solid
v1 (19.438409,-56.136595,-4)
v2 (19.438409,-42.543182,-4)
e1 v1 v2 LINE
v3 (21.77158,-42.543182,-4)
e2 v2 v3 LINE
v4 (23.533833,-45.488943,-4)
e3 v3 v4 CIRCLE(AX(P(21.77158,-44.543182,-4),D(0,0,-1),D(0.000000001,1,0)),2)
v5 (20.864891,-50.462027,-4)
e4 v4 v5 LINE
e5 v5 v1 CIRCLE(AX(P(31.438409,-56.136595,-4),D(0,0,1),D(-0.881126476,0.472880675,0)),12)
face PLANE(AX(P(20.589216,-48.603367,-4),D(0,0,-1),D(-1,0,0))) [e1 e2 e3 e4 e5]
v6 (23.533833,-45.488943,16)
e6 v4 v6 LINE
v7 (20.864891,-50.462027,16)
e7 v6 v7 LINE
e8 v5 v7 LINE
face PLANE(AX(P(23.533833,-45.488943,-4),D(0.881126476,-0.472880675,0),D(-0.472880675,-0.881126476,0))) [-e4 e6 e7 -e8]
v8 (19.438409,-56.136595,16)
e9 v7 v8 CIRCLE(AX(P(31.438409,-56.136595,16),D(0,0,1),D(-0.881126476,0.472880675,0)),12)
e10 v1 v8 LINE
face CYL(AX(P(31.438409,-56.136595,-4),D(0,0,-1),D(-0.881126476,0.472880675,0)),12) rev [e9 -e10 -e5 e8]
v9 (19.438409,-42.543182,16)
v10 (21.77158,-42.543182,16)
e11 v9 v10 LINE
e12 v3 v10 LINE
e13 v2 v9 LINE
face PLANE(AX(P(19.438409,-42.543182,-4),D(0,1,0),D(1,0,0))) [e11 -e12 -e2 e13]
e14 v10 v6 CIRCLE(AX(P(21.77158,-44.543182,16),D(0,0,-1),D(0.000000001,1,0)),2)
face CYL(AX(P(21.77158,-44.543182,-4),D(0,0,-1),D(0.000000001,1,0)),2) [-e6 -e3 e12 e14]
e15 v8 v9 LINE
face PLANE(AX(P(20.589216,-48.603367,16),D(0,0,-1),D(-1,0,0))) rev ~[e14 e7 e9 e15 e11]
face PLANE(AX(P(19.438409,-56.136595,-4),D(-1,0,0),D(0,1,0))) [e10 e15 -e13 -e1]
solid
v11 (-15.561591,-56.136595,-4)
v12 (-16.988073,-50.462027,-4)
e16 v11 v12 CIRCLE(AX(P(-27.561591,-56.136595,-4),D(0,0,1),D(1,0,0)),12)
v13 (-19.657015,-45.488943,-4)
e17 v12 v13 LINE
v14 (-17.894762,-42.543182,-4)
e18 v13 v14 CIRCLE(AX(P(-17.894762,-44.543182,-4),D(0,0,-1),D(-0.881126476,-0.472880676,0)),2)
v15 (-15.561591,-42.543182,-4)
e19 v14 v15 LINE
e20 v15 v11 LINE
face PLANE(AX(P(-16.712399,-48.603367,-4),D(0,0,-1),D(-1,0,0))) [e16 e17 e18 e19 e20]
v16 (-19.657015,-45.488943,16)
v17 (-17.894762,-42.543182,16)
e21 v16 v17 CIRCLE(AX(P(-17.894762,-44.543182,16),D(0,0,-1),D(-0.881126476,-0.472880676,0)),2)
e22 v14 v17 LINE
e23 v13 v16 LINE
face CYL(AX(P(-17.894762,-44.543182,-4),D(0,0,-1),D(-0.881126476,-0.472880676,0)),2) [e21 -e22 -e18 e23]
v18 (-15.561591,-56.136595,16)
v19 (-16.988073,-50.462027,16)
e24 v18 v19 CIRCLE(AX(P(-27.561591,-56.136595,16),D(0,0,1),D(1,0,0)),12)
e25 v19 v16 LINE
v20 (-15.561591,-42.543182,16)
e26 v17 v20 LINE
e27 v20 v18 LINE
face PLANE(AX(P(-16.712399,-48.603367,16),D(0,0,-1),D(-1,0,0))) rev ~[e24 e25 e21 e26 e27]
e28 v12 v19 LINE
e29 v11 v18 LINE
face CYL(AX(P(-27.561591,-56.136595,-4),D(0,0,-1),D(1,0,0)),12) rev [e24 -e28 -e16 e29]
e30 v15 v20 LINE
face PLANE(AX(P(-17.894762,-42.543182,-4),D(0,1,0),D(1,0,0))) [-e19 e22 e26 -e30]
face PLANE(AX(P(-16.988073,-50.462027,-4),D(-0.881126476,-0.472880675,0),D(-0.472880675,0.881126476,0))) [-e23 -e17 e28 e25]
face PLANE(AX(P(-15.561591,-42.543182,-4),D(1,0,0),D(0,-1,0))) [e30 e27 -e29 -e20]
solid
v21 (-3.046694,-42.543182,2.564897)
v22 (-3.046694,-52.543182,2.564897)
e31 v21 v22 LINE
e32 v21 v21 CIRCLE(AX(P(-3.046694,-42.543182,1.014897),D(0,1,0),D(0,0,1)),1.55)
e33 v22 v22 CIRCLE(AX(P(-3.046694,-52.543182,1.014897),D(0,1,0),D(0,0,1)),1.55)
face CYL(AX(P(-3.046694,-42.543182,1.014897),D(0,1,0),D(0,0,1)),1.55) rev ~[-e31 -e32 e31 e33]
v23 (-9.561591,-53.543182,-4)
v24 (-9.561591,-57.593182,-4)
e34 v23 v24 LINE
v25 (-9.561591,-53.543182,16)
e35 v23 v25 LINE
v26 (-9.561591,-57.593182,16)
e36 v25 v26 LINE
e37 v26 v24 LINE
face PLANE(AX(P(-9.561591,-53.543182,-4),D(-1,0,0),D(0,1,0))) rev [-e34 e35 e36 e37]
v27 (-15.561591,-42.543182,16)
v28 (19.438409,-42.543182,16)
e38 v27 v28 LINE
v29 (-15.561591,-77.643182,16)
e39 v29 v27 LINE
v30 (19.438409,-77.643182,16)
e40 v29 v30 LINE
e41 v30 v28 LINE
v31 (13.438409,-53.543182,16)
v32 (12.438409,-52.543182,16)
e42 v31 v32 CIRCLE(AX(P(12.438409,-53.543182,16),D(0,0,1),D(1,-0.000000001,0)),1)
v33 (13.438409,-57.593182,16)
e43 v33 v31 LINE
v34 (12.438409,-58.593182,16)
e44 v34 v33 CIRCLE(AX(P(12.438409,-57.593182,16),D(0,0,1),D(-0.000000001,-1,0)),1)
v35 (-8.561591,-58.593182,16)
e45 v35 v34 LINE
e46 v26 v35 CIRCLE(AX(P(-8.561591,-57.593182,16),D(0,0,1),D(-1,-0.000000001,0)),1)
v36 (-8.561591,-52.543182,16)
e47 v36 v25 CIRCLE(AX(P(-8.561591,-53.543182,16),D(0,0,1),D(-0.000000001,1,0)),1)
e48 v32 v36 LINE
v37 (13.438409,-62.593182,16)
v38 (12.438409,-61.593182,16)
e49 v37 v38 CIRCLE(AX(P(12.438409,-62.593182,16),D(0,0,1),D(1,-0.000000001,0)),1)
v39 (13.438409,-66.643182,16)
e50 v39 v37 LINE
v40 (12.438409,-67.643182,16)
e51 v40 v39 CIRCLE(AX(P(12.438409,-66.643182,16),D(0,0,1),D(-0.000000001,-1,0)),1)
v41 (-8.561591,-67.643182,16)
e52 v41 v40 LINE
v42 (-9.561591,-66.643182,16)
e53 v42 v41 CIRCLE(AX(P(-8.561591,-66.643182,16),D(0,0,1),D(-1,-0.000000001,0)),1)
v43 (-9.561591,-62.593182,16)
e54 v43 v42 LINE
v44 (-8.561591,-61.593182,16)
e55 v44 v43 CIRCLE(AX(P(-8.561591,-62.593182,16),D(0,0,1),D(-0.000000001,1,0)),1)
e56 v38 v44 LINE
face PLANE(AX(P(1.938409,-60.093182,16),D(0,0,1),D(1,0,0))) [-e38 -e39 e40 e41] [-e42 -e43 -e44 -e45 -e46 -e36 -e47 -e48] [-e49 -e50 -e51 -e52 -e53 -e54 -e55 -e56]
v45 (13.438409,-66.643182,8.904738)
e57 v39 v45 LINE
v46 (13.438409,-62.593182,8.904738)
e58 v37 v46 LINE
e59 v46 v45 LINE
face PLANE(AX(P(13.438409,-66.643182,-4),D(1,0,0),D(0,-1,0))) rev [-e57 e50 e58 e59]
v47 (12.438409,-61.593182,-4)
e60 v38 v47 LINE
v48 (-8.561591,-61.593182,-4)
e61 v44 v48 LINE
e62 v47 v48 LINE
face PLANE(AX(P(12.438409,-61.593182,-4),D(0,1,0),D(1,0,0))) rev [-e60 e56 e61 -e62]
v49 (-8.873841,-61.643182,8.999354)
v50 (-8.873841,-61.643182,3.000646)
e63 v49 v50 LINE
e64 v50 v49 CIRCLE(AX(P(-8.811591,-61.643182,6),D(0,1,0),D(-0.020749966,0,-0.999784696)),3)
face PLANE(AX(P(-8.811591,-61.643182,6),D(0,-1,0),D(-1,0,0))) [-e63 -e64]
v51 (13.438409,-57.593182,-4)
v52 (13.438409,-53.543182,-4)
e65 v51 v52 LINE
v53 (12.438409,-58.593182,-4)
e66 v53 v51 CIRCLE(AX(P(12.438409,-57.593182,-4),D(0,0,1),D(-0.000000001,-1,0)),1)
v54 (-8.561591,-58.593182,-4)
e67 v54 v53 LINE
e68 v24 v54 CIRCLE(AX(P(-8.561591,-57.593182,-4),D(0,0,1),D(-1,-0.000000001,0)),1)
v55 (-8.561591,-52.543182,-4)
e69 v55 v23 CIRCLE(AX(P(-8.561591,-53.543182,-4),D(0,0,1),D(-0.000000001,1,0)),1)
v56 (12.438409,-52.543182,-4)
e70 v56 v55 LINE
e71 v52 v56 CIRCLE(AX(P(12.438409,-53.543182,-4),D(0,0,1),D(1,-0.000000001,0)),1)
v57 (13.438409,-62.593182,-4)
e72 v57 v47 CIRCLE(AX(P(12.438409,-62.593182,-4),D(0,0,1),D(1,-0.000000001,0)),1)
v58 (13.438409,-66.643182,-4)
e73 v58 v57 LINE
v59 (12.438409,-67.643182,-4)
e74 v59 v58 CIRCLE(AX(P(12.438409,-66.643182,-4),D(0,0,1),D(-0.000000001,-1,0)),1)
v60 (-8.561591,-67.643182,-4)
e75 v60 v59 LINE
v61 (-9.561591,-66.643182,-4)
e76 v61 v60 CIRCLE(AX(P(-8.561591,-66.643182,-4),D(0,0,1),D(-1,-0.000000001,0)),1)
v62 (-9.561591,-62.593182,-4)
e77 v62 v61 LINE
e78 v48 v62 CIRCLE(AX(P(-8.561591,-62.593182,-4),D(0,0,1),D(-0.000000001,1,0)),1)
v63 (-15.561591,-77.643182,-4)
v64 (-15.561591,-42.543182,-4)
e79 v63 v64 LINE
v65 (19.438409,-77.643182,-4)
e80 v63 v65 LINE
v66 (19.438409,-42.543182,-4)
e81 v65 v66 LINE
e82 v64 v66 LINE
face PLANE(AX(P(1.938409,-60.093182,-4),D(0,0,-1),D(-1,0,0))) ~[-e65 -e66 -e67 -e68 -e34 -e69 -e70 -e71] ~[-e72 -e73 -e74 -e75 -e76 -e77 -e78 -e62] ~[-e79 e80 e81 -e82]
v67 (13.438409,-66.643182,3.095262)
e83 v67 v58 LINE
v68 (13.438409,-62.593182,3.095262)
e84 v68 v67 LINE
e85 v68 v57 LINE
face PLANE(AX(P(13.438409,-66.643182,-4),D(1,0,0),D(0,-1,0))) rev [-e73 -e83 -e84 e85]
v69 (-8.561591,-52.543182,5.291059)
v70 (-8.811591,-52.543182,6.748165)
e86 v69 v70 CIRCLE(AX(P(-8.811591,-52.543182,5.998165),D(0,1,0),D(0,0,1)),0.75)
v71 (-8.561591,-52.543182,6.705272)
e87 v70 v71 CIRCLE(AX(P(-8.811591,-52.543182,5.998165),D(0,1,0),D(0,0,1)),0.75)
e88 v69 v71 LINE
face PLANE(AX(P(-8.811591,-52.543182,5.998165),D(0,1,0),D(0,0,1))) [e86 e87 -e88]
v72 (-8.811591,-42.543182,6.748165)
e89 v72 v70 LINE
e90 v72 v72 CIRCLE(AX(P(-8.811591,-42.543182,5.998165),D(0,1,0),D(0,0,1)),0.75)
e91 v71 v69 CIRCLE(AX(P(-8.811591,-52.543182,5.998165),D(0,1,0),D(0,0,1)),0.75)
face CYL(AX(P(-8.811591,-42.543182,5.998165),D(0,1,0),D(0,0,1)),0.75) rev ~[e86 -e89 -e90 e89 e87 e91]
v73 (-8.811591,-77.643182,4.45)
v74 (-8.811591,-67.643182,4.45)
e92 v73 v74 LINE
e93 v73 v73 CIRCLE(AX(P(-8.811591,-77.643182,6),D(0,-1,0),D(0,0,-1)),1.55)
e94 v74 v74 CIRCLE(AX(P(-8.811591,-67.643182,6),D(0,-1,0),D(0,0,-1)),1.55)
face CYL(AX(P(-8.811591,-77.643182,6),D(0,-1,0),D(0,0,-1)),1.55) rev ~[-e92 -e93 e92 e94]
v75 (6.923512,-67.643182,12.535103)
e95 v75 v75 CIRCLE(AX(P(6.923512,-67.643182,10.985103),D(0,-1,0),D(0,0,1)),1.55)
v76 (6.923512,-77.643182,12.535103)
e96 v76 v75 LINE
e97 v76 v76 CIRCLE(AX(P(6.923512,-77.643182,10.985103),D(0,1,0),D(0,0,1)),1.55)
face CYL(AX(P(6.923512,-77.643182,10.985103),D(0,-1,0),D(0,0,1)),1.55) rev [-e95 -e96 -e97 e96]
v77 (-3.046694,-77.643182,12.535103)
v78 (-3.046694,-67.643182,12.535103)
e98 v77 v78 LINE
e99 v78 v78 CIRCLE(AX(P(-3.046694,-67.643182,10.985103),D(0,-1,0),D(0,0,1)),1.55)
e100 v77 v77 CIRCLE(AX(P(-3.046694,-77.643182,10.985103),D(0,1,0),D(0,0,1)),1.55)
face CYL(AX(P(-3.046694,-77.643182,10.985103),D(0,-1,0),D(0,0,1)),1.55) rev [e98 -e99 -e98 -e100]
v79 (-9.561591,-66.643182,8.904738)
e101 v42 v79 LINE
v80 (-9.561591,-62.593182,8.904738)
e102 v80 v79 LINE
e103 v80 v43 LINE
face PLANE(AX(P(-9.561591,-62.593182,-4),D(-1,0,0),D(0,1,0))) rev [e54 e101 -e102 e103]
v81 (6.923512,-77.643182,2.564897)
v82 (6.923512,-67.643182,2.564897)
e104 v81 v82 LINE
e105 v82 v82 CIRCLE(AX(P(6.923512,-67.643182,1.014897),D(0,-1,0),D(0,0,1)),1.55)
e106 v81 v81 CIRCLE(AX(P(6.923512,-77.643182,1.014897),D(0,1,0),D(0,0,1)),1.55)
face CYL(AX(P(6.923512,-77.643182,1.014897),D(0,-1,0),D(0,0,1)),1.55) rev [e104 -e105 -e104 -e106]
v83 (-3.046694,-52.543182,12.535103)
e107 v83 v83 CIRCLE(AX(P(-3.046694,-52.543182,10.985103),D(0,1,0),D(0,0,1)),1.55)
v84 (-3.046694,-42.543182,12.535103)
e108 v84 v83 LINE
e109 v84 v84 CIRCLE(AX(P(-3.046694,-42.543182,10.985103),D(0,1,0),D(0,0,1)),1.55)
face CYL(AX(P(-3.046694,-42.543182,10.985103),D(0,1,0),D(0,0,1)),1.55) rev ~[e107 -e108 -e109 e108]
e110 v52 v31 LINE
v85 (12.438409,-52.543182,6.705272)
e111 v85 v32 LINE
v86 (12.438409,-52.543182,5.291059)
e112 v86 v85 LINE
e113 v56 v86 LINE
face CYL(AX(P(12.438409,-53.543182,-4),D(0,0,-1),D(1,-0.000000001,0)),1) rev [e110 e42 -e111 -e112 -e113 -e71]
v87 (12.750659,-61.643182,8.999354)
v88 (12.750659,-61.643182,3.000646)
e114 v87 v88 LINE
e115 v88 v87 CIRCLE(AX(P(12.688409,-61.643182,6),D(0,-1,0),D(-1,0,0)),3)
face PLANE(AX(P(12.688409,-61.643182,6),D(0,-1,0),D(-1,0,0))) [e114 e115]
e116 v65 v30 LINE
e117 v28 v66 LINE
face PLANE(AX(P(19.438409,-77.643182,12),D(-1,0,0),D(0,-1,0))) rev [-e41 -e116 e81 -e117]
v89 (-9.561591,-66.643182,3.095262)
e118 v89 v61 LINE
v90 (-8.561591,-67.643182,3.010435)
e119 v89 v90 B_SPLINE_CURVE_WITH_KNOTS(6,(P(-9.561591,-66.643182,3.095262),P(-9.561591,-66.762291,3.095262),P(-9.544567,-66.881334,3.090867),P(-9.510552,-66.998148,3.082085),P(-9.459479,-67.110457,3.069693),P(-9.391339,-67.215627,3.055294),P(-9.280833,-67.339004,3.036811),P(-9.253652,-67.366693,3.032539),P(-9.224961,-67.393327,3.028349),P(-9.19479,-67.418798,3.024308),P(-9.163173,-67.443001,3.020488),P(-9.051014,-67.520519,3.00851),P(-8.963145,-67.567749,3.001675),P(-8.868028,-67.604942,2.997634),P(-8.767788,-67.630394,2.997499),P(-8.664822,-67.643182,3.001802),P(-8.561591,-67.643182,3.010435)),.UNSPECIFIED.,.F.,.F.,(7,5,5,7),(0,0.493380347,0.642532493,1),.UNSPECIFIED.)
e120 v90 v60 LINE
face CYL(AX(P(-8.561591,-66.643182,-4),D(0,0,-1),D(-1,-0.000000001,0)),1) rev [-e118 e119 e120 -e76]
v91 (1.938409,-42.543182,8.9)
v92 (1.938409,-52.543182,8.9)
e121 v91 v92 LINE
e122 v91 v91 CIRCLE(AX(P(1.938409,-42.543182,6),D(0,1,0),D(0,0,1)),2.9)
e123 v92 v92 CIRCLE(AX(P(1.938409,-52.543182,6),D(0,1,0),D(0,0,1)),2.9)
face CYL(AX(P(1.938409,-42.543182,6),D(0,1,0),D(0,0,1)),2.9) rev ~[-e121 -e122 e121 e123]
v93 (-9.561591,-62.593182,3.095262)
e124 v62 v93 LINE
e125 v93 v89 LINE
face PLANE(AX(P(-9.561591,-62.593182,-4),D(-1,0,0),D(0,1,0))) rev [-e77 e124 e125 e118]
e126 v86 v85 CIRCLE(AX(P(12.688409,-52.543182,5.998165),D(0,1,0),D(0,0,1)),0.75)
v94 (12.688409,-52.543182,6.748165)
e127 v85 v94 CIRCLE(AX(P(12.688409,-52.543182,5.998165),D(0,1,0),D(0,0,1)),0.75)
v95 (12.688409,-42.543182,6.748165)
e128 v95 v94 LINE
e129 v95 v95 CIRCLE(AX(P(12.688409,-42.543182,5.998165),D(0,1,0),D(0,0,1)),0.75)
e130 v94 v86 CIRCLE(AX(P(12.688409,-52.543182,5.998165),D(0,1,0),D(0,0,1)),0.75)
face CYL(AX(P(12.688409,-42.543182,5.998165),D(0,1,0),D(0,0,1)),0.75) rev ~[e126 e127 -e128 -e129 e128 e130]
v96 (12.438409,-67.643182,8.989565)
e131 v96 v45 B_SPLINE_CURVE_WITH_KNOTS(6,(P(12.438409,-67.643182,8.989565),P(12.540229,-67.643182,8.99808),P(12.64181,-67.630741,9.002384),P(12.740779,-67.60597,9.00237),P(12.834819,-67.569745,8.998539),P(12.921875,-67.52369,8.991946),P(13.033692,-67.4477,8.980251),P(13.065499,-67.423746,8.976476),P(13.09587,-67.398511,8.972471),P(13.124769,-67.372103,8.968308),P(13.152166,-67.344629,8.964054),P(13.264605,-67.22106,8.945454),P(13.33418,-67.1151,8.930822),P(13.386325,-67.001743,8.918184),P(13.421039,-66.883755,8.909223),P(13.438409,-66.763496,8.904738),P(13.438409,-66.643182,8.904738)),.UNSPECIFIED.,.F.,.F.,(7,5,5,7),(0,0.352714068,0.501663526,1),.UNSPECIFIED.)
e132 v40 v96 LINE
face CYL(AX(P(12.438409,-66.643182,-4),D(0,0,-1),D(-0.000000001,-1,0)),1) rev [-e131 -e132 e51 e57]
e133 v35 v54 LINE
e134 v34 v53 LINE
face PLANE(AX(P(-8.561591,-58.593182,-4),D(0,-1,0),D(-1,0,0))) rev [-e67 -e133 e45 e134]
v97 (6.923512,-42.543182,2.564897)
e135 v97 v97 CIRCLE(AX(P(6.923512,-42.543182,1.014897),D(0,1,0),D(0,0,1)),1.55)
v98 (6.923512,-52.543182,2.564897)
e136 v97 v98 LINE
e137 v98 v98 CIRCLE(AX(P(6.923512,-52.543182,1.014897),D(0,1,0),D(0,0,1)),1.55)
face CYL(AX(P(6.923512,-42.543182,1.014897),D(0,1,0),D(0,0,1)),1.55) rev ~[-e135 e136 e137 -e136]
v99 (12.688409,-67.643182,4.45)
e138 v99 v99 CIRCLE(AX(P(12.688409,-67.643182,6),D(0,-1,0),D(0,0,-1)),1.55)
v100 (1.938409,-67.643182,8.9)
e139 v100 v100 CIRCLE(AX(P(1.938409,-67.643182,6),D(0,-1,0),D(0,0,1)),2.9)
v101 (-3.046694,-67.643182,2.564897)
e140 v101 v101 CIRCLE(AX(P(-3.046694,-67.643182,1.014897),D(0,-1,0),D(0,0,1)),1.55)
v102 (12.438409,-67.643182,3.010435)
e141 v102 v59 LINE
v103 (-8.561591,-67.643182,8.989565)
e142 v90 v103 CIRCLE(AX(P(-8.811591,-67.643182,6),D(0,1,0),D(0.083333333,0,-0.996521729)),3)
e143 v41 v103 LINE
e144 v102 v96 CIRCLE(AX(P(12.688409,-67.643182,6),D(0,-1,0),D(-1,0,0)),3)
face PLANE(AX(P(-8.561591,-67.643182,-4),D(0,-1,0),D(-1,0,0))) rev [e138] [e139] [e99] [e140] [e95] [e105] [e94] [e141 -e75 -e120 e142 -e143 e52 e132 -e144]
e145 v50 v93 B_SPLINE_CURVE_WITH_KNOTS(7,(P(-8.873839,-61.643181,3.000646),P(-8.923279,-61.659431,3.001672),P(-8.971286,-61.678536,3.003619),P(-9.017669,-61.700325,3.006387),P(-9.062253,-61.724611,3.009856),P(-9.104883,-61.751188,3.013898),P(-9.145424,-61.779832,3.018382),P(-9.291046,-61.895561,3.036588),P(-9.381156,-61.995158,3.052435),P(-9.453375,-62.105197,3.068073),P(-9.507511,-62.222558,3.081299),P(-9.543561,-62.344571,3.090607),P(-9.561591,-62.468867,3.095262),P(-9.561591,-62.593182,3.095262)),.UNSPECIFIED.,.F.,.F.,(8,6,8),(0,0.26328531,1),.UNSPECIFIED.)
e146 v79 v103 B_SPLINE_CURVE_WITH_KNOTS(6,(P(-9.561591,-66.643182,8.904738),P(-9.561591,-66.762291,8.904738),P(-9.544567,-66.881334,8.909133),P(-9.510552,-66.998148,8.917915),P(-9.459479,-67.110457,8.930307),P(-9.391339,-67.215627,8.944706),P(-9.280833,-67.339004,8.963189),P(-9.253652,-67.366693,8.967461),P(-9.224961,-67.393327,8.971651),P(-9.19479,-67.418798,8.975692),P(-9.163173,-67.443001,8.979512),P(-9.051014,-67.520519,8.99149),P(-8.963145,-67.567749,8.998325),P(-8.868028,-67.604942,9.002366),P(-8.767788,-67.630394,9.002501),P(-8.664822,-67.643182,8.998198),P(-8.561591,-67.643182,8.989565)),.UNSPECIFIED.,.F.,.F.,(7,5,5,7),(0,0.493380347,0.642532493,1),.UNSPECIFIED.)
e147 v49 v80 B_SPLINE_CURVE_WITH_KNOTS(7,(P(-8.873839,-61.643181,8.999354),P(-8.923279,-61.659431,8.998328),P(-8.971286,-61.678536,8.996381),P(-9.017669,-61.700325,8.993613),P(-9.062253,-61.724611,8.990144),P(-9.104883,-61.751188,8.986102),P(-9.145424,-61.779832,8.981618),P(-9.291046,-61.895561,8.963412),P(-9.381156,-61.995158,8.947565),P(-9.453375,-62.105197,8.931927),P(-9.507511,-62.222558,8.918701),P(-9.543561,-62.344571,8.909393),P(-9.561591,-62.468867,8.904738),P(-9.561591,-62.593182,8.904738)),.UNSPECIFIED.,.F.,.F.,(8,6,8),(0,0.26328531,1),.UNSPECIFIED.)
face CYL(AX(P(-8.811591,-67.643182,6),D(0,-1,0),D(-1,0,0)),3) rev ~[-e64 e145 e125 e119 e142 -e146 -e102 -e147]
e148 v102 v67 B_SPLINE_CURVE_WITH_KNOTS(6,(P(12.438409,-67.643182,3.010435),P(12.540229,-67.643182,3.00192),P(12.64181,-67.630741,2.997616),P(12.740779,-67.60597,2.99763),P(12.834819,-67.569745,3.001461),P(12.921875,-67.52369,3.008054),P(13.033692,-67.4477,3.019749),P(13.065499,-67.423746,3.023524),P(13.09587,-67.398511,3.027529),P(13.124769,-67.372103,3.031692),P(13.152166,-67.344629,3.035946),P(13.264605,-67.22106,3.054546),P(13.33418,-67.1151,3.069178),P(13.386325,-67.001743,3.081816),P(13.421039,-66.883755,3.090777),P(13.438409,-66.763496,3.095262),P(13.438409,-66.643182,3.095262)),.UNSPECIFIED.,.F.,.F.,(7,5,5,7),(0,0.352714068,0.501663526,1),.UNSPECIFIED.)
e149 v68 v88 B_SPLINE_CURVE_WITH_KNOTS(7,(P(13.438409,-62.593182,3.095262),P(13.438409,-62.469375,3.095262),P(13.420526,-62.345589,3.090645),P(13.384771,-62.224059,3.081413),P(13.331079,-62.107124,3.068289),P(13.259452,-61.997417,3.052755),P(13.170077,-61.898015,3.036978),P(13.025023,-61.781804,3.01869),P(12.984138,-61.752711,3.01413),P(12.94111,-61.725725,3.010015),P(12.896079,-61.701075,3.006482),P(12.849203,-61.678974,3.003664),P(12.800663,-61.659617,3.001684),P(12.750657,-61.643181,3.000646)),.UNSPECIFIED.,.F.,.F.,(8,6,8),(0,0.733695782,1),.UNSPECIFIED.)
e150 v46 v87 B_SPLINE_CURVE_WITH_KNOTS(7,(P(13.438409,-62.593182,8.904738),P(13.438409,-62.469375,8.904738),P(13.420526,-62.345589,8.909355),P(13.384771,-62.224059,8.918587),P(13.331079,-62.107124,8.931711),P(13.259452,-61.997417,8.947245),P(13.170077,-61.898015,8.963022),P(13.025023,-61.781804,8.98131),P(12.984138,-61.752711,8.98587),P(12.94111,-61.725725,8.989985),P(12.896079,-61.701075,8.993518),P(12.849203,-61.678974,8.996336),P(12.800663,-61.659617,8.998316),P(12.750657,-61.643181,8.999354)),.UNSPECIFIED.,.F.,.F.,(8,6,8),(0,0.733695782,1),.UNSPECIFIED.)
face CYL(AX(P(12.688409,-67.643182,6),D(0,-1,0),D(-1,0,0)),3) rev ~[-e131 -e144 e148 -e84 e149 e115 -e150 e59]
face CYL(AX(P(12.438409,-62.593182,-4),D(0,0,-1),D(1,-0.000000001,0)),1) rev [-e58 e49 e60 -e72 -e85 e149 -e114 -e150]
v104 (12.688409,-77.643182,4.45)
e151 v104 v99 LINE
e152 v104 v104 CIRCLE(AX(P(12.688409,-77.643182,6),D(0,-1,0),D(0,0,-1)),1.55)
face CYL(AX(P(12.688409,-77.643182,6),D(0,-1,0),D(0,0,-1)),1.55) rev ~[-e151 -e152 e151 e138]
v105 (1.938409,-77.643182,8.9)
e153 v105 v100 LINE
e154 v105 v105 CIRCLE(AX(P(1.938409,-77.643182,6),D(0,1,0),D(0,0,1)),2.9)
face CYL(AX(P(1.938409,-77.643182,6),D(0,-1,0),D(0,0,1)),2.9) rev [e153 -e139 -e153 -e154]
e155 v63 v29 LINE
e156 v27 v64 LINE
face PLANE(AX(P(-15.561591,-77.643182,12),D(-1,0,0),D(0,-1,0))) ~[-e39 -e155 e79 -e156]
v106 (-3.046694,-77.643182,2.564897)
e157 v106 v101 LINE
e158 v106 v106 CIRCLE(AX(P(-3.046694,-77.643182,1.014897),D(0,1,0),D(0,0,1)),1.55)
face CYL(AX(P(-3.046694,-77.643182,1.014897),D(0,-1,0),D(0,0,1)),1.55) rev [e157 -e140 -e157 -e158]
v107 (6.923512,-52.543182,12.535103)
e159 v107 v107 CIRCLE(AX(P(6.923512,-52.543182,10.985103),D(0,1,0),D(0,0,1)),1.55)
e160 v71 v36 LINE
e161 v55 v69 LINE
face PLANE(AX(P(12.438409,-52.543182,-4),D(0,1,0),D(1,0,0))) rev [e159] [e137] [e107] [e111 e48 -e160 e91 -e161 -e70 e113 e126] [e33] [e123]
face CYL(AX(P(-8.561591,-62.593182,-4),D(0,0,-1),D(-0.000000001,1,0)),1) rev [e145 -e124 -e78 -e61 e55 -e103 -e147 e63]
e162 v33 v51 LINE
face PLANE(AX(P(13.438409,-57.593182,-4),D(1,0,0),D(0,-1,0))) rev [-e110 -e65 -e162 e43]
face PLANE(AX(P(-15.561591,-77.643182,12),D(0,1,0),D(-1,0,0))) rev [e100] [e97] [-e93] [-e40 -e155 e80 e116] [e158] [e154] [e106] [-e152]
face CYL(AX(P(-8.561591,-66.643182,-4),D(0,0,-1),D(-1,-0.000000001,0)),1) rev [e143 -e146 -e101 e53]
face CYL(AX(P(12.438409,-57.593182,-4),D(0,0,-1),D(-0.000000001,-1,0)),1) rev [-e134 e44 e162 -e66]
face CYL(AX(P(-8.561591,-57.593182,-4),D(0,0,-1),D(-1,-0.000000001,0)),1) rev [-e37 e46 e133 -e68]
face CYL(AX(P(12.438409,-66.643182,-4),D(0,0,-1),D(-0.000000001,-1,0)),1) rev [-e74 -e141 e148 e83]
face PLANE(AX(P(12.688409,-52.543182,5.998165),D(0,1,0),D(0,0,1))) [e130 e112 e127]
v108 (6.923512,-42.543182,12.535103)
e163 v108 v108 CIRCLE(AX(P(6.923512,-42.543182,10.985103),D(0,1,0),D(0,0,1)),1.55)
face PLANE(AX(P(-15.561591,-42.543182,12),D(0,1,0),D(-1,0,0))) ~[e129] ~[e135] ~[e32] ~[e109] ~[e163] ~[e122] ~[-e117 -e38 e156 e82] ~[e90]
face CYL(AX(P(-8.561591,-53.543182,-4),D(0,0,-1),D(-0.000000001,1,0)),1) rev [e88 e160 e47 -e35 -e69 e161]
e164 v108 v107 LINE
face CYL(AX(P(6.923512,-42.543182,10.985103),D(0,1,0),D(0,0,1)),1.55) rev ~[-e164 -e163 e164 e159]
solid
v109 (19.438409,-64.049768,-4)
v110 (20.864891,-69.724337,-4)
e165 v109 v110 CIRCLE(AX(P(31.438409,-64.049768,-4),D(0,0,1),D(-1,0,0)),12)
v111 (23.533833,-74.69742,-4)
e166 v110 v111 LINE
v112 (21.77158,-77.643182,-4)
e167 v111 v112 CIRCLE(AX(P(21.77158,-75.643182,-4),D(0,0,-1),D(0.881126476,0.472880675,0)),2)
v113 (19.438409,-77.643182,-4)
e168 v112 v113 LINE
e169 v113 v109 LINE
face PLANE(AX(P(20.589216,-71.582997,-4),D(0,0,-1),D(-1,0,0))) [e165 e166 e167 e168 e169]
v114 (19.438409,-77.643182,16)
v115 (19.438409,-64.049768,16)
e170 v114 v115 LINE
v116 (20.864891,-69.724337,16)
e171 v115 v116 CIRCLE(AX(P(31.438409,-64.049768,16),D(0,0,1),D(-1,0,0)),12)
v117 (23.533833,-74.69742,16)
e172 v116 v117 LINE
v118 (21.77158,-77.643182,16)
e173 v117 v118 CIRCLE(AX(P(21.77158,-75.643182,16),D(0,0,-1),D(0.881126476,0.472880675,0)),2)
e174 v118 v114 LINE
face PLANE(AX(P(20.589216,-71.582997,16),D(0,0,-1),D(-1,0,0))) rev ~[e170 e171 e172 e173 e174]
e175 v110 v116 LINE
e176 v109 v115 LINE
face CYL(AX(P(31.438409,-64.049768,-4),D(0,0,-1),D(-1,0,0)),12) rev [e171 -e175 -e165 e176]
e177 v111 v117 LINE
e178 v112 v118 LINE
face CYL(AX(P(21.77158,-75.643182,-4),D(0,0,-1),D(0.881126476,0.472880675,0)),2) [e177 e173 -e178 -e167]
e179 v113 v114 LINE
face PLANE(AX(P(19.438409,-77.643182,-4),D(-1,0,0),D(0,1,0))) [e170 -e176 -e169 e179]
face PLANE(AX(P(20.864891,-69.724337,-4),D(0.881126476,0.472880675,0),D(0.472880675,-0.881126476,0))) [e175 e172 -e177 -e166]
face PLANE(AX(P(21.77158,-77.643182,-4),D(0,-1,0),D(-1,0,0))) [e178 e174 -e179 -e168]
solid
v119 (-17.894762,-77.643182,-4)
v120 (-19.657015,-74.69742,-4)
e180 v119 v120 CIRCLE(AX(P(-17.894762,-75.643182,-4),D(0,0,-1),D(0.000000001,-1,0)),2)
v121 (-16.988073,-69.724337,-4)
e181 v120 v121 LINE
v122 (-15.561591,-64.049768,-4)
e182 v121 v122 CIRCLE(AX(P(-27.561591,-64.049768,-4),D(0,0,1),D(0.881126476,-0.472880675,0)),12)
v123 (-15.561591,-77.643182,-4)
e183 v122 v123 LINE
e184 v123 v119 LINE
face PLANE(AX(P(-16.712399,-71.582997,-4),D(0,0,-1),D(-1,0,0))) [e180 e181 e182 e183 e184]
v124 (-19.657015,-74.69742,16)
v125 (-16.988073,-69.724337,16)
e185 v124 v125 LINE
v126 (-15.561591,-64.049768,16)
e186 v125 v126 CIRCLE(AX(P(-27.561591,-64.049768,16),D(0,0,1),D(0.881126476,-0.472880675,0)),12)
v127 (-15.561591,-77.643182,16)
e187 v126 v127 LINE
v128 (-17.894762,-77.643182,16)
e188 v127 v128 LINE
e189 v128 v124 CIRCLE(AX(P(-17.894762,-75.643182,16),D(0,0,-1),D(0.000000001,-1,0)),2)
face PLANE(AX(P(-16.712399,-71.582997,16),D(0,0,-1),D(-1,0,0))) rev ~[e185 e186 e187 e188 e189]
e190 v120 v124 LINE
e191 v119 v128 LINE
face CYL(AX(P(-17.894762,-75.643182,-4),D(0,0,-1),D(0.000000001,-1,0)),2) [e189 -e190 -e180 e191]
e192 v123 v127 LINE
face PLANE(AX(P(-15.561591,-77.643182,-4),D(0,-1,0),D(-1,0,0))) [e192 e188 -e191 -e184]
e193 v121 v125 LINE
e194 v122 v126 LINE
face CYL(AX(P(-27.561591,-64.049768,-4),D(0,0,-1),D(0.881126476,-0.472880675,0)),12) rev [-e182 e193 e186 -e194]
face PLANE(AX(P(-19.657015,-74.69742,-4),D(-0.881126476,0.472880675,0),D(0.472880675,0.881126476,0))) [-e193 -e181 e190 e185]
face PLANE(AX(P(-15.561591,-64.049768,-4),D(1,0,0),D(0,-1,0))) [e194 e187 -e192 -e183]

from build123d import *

# Parameters (mm, degrees)
SKETCH1_W             = 35
SKETCH1_H             = 35.1
BOSS_EXTRUDE1_DEPTH   = 16
CUT_EXTRUDE1_REACH    = 83.623
SKETCH6_W             = 37.150203726
SKETCH6_H             = 36.965069821
CUT_EXTRUDE2_DEPTH    = 81.661734542
SKETCH7_R             = 2.9
SKETCH7_R_2           = 1.55
CUT_EXTRUDE3_DEPTH    = 12
BOSS_EXTRUDE2_DEPTH   = 20
BOSS_EXTRUDE2_2_DEPTH = 20
BOSS_EXTRUDE2_3_DEPTH = 20
BOSS_EXTRUDE2_4_DEPTH = 20
SKETCH11_R            = 0.75
CUT_EXTRUDE4_DEPTH    = 10
SKETCH12_R            = 1.55
CUT_EXTRUDE5_DEPTH    = 10
SKETCH14_R            = 3
CUT_EXTRUDE7_DEPTH    = 6


with BuildPart() as part:
    # Sketch1 → Boss-Extrude1 (new body)
    with BuildSketch(Plane.XY):
        with Locations((1.938408795, -60.093181818)):
            Rectangle(SKETCH1_W, SKETCH1_H)
    extrude(amount=BOSS_EXTRUDE1_DEPTH)

    # Sketch2 → Cut-Extrude1 (cut, up to next)
    with BuildSketch(Plane.XY.offset(16), mode=Mode.PRIVATE) as cut_extrude1_sk1:
        with BuildLine():
            Line((-9.561591205, -53.543181818), (-9.561591205, -57.593181818))
            ThreePointArc((-9.561591205, -57.593181818), (-9.268697986, -58.300288599), (-8.561591205, -58.593181818))
            Line((-8.561591205, -58.593181818), (12.438408795, -58.593181818))
            ThreePointArc((12.438408795, -58.593181818), (13.145515577, -58.300288599), (13.438408795, -57.593181818))
            Line((13.438408795, -57.593181818), (13.438408795, -53.543181818))
            ThreePointArc((13.438408795, -53.543181818), (13.145515577, -52.836075037), (12.438408795, -52.543181818))
            Line((12.438408795, -52.543181818), (-8.561591205, -52.543181818))
            ThreePointArc((-8.561591205, -52.543181818), (-9.268697986, -52.836075037), (-9.561591205, -53.543181818))
        make_face()
    cut_extrude1_tool1 = extrude(cut_extrude1_sk1.sketch, amount=-CUT_EXTRUDE1_REACH, mode=Mode.PRIVATE) & part.part
    # Sketch2 → Cut-Extrude1 (cut, up to next)
    with BuildSketch(Plane.XY.offset(16), mode=Mode.PRIVATE) as cut_extrude1_sk2:
        with BuildLine():
            Line((-9.561591205, -62.593181818), (-9.561591205, -66.643181818))
            ThreePointArc((-9.561591205, -66.643181818), (-9.268697986, -67.350288599), (-8.561591205, -67.643181818))
            Line((-8.561591205, -67.643181818), (12.438408795, -67.643181818))
            ThreePointArc((12.438408795, -67.643181818), (13.145515577, -67.350288599), (13.438408795, -66.643181818))
            Line((13.438408795, -66.643181818), (13.438408795, -62.593181818))
            ThreePointArc((13.438408795, -62.593181818), (13.145515577, -61.886075037), (12.438408795, -61.593181818))
            Line((12.438408795, -61.593181818), (-8.561591205, -61.593181818))
            ThreePointArc((-8.561591205, -61.593181818), (-9.268697986, -61.886075037), (-9.561591205, -62.593181818))
        make_face()
    cut_extrude1_tool2 = extrude(cut_extrude1_sk2.sketch, amount=-CUT_EXTRUDE1_REACH, mode=Mode.PRIVATE) & part.part
    add(cut_extrude1_tool1.solids().sort_by_distance((1.938409, -55.568182, 16))[0], mode=Mode.SUBTRACT)
    add(cut_extrude1_tool2.solids().sort_by_distance((1.938409, -64.618182, 16))[0], mode=Mode.SUBTRACT)

    # Sketch6 → Cut-Extrude2 (cut, through all)
    with BuildSketch(Plane.XY.offset(6)):
        with Locations((2.061831399, -60.247460073)):
            Rectangle(SKETCH6_W, SKETCH6_H)
    extrude(amount=-CUT_EXTRUDE2_DEPTH, mode=Mode.SUBTRACT)

    # Mirror3: part across plane


with BuildPart() as part_1:
    add(part.part)
    add(part.part.mirror(Plane.XY.offset(6)))

    # Sketch7 → Cut-Extrude3 (cut)
    with BuildSketch(Plane(origin=(0, -42.543181818, 0), x_dir=(1, 0, 0), z_dir=(0, 1, 0))):
        with Locations(Location((1.938408795, -6, 0), (0, 0, 270))):
            Circle(SKETCH7_R)
        with Locations(Location((-3.046694012, -1.014897193, 0), (0, 0, 270))):
            Circle(SKETCH7_R_2)
        with Locations(Location((6.923511603, -1.014897193, 0), (0, 0, 270))):
            Circle(SKETCH7_R_2)
        with Locations(Location((6.923511603, -10.985102807, 0), (0, 0, 270))):
            Circle(SKETCH7_R_2)
        with Locations(Location((-3.046694012, -10.985102807, 0), (0, 0, 270))):
            Circle(SKETCH7_R_2)
    cut_extrude3 = extrude(amount=-CUT_EXTRUDE3_DEPTH, mode=Mode.SUBTRACT)

    # Mirror4: Cut-Extrude3 across plane
    add(cut_extrude3.mirror(Plane.ZX.offset(-60.093181818)), mode=Mode.SUBTRACT)

    # Sketch11 → Cut-Extrude4 (cut)
    with BuildSketch(Plane(origin=(0, -42.543181818, 0), x_dir=(1, 0, 0), z_dir=(0, 1, 0))):
        with Locations(Location((12.688408795, -5.998165284, 0), (0, 0, 270))):
            Circle(SKETCH11_R)
        with Locations(Location((-8.811591205, -5.998165284, 0), (0, 0, 270))):
            Circle(SKETCH11_R)
    extrude(amount=-CUT_EXTRUDE4_DEPTH, mode=Mode.SUBTRACT)

    # Sketch12 → Cut-Extrude5 (cut)
    with BuildSketch(Plane.XZ.offset(77.643181818)):
        with Locations(Location((12.688408795, 6, 0), (0, 0, 270))):
            Circle(SKETCH12_R)
        with Locations(Location((-8.811591205, 6, 0), (0, 0, 270))):
            Circle(SKETCH12_R)
    extrude(amount=-CUT_EXTRUDE5_DEPTH, mode=Mode.SUBTRACT)

    # Sketch14 → Cut-Extrude7 (cut)
    with BuildSketch(Plane(origin=(0, -67.643181818, 0), x_dir=(-1, 0, 0), z_dir=(0, -1, 0))):
        with Locations((-12.688408795, -6)):
            Circle(SKETCH14_R)
        with Locations((8.811591205, -6)):
            Circle(SKETCH14_R)
    extrude(amount=-CUT_EXTRUDE7_DEPTH, mode=Mode.SUBTRACT)


with BuildPart() as body_2:
    # Sketch9 → Boss-Extrude2 (new body)
    with BuildSketch(Plane(origin=(0, 0, -4), x_dir=(-1, 0, 0), z_dir=(0, 0, -1))):
        with BuildLine():
            Line((-19.438408795, -56.13659522), (-19.438408795, -42.543181818))
            Line((-19.438408795, -42.543181818), (-21.771579944, -42.543181818))
            ThreePointArc((-21.771579944, -42.543181818), (-23.487901985, -43.516420576), (-23.533832896, -45.488943169))
            Line((-23.533832896, -45.488943169), (-20.864891082, -50.462027116))
            ThreePointArc((-20.864891082, -50.462027116), (-19.800492045, -53.211036518), (-19.438408795, -56.13659522))
        make_face()
    extrude(amount=-BOSS_EXTRUDE2_DEPTH)


with BuildPart() as body_3:
    # Sketch9 → Boss-Extrude2 2 (new body)
    with BuildSketch(Plane(origin=(0, 0, -4), x_dir=(-1, 0, 0), z_dir=(0, 0, -1))):
        with BuildLine():
            Line((-19.438408795, -77.643181818), (-19.438408795, -64.049768416))
            ThreePointArc((-19.438408795, -64.049768416), (-19.800492045, -66.975327119), (-20.864891082, -69.72433652))
            Line((-20.864891082, -69.72433652), (-23.533832896, -74.697420468))
            ThreePointArc((-23.533832896, -74.697420468), (-23.487901985, -76.669943061), (-21.771579944, -77.643181818))
            Line((-21.771579944, -77.643181818), (-19.438408795, -77.643181818))
        make_face()
    extrude(amount=-BOSS_EXTRUDE2_2_DEPTH)


with BuildPart() as body_4:
    # Sketch9 → Boss-Extrude2 3 (new body)
    with BuildSketch(Plane(origin=(0, 0, -4), x_dir=(-1, 0, 0), z_dir=(0, 0, -1))):
        with BuildLine():
            Line((15.561591205, -42.543181818), (15.561591205, -56.13659522))
            ThreePointArc((15.561591205, -56.13659522), (15.923674455, -53.211036518), (16.988073491, -50.462027116))
            Line((16.988073491, -50.462027116), (19.657015305, -45.488943169))
            ThreePointArc((19.657015305, -45.488943169), (19.611084395, -43.516420576), (17.894762353, -42.543181818))
            Line((17.894762353, -42.543181818), (15.561591205, -42.543181818))
        make_face()
    extrude(amount=-BOSS_EXTRUDE2_3_DEPTH)


with BuildPart() as body_5:
    # Sketch9 → Boss-Extrude2 4 (new body)
    with BuildSketch(Plane(origin=(0, 0, -4), x_dir=(-1, 0, 0), z_dir=(0, 0, -1))):
        with BuildLine():
            Line((15.561591205, -64.049768416), (15.561591205, -77.643181818))
            Line((15.561591205, -77.643181818), (17.894762353, -77.643181818))
            ThreePointArc((17.894762353, -77.643181818), (19.611084395, -76.669943061), (19.657015305, -74.697420468))
            Line((19.657015305, -74.697420468), (16.988073491, -69.72433652))
            ThreePointArc((16.988073491, -69.72433652), (15.923674455, -66.975327119), (15.561591205, -64.049768416))
        make_face()
    extrude(amount=-BOSS_EXTRUDE2_4_DEPTH)


solid = Compound([part_1.part, body_2.part, body_3.part, body_4.part, body_5.part])
